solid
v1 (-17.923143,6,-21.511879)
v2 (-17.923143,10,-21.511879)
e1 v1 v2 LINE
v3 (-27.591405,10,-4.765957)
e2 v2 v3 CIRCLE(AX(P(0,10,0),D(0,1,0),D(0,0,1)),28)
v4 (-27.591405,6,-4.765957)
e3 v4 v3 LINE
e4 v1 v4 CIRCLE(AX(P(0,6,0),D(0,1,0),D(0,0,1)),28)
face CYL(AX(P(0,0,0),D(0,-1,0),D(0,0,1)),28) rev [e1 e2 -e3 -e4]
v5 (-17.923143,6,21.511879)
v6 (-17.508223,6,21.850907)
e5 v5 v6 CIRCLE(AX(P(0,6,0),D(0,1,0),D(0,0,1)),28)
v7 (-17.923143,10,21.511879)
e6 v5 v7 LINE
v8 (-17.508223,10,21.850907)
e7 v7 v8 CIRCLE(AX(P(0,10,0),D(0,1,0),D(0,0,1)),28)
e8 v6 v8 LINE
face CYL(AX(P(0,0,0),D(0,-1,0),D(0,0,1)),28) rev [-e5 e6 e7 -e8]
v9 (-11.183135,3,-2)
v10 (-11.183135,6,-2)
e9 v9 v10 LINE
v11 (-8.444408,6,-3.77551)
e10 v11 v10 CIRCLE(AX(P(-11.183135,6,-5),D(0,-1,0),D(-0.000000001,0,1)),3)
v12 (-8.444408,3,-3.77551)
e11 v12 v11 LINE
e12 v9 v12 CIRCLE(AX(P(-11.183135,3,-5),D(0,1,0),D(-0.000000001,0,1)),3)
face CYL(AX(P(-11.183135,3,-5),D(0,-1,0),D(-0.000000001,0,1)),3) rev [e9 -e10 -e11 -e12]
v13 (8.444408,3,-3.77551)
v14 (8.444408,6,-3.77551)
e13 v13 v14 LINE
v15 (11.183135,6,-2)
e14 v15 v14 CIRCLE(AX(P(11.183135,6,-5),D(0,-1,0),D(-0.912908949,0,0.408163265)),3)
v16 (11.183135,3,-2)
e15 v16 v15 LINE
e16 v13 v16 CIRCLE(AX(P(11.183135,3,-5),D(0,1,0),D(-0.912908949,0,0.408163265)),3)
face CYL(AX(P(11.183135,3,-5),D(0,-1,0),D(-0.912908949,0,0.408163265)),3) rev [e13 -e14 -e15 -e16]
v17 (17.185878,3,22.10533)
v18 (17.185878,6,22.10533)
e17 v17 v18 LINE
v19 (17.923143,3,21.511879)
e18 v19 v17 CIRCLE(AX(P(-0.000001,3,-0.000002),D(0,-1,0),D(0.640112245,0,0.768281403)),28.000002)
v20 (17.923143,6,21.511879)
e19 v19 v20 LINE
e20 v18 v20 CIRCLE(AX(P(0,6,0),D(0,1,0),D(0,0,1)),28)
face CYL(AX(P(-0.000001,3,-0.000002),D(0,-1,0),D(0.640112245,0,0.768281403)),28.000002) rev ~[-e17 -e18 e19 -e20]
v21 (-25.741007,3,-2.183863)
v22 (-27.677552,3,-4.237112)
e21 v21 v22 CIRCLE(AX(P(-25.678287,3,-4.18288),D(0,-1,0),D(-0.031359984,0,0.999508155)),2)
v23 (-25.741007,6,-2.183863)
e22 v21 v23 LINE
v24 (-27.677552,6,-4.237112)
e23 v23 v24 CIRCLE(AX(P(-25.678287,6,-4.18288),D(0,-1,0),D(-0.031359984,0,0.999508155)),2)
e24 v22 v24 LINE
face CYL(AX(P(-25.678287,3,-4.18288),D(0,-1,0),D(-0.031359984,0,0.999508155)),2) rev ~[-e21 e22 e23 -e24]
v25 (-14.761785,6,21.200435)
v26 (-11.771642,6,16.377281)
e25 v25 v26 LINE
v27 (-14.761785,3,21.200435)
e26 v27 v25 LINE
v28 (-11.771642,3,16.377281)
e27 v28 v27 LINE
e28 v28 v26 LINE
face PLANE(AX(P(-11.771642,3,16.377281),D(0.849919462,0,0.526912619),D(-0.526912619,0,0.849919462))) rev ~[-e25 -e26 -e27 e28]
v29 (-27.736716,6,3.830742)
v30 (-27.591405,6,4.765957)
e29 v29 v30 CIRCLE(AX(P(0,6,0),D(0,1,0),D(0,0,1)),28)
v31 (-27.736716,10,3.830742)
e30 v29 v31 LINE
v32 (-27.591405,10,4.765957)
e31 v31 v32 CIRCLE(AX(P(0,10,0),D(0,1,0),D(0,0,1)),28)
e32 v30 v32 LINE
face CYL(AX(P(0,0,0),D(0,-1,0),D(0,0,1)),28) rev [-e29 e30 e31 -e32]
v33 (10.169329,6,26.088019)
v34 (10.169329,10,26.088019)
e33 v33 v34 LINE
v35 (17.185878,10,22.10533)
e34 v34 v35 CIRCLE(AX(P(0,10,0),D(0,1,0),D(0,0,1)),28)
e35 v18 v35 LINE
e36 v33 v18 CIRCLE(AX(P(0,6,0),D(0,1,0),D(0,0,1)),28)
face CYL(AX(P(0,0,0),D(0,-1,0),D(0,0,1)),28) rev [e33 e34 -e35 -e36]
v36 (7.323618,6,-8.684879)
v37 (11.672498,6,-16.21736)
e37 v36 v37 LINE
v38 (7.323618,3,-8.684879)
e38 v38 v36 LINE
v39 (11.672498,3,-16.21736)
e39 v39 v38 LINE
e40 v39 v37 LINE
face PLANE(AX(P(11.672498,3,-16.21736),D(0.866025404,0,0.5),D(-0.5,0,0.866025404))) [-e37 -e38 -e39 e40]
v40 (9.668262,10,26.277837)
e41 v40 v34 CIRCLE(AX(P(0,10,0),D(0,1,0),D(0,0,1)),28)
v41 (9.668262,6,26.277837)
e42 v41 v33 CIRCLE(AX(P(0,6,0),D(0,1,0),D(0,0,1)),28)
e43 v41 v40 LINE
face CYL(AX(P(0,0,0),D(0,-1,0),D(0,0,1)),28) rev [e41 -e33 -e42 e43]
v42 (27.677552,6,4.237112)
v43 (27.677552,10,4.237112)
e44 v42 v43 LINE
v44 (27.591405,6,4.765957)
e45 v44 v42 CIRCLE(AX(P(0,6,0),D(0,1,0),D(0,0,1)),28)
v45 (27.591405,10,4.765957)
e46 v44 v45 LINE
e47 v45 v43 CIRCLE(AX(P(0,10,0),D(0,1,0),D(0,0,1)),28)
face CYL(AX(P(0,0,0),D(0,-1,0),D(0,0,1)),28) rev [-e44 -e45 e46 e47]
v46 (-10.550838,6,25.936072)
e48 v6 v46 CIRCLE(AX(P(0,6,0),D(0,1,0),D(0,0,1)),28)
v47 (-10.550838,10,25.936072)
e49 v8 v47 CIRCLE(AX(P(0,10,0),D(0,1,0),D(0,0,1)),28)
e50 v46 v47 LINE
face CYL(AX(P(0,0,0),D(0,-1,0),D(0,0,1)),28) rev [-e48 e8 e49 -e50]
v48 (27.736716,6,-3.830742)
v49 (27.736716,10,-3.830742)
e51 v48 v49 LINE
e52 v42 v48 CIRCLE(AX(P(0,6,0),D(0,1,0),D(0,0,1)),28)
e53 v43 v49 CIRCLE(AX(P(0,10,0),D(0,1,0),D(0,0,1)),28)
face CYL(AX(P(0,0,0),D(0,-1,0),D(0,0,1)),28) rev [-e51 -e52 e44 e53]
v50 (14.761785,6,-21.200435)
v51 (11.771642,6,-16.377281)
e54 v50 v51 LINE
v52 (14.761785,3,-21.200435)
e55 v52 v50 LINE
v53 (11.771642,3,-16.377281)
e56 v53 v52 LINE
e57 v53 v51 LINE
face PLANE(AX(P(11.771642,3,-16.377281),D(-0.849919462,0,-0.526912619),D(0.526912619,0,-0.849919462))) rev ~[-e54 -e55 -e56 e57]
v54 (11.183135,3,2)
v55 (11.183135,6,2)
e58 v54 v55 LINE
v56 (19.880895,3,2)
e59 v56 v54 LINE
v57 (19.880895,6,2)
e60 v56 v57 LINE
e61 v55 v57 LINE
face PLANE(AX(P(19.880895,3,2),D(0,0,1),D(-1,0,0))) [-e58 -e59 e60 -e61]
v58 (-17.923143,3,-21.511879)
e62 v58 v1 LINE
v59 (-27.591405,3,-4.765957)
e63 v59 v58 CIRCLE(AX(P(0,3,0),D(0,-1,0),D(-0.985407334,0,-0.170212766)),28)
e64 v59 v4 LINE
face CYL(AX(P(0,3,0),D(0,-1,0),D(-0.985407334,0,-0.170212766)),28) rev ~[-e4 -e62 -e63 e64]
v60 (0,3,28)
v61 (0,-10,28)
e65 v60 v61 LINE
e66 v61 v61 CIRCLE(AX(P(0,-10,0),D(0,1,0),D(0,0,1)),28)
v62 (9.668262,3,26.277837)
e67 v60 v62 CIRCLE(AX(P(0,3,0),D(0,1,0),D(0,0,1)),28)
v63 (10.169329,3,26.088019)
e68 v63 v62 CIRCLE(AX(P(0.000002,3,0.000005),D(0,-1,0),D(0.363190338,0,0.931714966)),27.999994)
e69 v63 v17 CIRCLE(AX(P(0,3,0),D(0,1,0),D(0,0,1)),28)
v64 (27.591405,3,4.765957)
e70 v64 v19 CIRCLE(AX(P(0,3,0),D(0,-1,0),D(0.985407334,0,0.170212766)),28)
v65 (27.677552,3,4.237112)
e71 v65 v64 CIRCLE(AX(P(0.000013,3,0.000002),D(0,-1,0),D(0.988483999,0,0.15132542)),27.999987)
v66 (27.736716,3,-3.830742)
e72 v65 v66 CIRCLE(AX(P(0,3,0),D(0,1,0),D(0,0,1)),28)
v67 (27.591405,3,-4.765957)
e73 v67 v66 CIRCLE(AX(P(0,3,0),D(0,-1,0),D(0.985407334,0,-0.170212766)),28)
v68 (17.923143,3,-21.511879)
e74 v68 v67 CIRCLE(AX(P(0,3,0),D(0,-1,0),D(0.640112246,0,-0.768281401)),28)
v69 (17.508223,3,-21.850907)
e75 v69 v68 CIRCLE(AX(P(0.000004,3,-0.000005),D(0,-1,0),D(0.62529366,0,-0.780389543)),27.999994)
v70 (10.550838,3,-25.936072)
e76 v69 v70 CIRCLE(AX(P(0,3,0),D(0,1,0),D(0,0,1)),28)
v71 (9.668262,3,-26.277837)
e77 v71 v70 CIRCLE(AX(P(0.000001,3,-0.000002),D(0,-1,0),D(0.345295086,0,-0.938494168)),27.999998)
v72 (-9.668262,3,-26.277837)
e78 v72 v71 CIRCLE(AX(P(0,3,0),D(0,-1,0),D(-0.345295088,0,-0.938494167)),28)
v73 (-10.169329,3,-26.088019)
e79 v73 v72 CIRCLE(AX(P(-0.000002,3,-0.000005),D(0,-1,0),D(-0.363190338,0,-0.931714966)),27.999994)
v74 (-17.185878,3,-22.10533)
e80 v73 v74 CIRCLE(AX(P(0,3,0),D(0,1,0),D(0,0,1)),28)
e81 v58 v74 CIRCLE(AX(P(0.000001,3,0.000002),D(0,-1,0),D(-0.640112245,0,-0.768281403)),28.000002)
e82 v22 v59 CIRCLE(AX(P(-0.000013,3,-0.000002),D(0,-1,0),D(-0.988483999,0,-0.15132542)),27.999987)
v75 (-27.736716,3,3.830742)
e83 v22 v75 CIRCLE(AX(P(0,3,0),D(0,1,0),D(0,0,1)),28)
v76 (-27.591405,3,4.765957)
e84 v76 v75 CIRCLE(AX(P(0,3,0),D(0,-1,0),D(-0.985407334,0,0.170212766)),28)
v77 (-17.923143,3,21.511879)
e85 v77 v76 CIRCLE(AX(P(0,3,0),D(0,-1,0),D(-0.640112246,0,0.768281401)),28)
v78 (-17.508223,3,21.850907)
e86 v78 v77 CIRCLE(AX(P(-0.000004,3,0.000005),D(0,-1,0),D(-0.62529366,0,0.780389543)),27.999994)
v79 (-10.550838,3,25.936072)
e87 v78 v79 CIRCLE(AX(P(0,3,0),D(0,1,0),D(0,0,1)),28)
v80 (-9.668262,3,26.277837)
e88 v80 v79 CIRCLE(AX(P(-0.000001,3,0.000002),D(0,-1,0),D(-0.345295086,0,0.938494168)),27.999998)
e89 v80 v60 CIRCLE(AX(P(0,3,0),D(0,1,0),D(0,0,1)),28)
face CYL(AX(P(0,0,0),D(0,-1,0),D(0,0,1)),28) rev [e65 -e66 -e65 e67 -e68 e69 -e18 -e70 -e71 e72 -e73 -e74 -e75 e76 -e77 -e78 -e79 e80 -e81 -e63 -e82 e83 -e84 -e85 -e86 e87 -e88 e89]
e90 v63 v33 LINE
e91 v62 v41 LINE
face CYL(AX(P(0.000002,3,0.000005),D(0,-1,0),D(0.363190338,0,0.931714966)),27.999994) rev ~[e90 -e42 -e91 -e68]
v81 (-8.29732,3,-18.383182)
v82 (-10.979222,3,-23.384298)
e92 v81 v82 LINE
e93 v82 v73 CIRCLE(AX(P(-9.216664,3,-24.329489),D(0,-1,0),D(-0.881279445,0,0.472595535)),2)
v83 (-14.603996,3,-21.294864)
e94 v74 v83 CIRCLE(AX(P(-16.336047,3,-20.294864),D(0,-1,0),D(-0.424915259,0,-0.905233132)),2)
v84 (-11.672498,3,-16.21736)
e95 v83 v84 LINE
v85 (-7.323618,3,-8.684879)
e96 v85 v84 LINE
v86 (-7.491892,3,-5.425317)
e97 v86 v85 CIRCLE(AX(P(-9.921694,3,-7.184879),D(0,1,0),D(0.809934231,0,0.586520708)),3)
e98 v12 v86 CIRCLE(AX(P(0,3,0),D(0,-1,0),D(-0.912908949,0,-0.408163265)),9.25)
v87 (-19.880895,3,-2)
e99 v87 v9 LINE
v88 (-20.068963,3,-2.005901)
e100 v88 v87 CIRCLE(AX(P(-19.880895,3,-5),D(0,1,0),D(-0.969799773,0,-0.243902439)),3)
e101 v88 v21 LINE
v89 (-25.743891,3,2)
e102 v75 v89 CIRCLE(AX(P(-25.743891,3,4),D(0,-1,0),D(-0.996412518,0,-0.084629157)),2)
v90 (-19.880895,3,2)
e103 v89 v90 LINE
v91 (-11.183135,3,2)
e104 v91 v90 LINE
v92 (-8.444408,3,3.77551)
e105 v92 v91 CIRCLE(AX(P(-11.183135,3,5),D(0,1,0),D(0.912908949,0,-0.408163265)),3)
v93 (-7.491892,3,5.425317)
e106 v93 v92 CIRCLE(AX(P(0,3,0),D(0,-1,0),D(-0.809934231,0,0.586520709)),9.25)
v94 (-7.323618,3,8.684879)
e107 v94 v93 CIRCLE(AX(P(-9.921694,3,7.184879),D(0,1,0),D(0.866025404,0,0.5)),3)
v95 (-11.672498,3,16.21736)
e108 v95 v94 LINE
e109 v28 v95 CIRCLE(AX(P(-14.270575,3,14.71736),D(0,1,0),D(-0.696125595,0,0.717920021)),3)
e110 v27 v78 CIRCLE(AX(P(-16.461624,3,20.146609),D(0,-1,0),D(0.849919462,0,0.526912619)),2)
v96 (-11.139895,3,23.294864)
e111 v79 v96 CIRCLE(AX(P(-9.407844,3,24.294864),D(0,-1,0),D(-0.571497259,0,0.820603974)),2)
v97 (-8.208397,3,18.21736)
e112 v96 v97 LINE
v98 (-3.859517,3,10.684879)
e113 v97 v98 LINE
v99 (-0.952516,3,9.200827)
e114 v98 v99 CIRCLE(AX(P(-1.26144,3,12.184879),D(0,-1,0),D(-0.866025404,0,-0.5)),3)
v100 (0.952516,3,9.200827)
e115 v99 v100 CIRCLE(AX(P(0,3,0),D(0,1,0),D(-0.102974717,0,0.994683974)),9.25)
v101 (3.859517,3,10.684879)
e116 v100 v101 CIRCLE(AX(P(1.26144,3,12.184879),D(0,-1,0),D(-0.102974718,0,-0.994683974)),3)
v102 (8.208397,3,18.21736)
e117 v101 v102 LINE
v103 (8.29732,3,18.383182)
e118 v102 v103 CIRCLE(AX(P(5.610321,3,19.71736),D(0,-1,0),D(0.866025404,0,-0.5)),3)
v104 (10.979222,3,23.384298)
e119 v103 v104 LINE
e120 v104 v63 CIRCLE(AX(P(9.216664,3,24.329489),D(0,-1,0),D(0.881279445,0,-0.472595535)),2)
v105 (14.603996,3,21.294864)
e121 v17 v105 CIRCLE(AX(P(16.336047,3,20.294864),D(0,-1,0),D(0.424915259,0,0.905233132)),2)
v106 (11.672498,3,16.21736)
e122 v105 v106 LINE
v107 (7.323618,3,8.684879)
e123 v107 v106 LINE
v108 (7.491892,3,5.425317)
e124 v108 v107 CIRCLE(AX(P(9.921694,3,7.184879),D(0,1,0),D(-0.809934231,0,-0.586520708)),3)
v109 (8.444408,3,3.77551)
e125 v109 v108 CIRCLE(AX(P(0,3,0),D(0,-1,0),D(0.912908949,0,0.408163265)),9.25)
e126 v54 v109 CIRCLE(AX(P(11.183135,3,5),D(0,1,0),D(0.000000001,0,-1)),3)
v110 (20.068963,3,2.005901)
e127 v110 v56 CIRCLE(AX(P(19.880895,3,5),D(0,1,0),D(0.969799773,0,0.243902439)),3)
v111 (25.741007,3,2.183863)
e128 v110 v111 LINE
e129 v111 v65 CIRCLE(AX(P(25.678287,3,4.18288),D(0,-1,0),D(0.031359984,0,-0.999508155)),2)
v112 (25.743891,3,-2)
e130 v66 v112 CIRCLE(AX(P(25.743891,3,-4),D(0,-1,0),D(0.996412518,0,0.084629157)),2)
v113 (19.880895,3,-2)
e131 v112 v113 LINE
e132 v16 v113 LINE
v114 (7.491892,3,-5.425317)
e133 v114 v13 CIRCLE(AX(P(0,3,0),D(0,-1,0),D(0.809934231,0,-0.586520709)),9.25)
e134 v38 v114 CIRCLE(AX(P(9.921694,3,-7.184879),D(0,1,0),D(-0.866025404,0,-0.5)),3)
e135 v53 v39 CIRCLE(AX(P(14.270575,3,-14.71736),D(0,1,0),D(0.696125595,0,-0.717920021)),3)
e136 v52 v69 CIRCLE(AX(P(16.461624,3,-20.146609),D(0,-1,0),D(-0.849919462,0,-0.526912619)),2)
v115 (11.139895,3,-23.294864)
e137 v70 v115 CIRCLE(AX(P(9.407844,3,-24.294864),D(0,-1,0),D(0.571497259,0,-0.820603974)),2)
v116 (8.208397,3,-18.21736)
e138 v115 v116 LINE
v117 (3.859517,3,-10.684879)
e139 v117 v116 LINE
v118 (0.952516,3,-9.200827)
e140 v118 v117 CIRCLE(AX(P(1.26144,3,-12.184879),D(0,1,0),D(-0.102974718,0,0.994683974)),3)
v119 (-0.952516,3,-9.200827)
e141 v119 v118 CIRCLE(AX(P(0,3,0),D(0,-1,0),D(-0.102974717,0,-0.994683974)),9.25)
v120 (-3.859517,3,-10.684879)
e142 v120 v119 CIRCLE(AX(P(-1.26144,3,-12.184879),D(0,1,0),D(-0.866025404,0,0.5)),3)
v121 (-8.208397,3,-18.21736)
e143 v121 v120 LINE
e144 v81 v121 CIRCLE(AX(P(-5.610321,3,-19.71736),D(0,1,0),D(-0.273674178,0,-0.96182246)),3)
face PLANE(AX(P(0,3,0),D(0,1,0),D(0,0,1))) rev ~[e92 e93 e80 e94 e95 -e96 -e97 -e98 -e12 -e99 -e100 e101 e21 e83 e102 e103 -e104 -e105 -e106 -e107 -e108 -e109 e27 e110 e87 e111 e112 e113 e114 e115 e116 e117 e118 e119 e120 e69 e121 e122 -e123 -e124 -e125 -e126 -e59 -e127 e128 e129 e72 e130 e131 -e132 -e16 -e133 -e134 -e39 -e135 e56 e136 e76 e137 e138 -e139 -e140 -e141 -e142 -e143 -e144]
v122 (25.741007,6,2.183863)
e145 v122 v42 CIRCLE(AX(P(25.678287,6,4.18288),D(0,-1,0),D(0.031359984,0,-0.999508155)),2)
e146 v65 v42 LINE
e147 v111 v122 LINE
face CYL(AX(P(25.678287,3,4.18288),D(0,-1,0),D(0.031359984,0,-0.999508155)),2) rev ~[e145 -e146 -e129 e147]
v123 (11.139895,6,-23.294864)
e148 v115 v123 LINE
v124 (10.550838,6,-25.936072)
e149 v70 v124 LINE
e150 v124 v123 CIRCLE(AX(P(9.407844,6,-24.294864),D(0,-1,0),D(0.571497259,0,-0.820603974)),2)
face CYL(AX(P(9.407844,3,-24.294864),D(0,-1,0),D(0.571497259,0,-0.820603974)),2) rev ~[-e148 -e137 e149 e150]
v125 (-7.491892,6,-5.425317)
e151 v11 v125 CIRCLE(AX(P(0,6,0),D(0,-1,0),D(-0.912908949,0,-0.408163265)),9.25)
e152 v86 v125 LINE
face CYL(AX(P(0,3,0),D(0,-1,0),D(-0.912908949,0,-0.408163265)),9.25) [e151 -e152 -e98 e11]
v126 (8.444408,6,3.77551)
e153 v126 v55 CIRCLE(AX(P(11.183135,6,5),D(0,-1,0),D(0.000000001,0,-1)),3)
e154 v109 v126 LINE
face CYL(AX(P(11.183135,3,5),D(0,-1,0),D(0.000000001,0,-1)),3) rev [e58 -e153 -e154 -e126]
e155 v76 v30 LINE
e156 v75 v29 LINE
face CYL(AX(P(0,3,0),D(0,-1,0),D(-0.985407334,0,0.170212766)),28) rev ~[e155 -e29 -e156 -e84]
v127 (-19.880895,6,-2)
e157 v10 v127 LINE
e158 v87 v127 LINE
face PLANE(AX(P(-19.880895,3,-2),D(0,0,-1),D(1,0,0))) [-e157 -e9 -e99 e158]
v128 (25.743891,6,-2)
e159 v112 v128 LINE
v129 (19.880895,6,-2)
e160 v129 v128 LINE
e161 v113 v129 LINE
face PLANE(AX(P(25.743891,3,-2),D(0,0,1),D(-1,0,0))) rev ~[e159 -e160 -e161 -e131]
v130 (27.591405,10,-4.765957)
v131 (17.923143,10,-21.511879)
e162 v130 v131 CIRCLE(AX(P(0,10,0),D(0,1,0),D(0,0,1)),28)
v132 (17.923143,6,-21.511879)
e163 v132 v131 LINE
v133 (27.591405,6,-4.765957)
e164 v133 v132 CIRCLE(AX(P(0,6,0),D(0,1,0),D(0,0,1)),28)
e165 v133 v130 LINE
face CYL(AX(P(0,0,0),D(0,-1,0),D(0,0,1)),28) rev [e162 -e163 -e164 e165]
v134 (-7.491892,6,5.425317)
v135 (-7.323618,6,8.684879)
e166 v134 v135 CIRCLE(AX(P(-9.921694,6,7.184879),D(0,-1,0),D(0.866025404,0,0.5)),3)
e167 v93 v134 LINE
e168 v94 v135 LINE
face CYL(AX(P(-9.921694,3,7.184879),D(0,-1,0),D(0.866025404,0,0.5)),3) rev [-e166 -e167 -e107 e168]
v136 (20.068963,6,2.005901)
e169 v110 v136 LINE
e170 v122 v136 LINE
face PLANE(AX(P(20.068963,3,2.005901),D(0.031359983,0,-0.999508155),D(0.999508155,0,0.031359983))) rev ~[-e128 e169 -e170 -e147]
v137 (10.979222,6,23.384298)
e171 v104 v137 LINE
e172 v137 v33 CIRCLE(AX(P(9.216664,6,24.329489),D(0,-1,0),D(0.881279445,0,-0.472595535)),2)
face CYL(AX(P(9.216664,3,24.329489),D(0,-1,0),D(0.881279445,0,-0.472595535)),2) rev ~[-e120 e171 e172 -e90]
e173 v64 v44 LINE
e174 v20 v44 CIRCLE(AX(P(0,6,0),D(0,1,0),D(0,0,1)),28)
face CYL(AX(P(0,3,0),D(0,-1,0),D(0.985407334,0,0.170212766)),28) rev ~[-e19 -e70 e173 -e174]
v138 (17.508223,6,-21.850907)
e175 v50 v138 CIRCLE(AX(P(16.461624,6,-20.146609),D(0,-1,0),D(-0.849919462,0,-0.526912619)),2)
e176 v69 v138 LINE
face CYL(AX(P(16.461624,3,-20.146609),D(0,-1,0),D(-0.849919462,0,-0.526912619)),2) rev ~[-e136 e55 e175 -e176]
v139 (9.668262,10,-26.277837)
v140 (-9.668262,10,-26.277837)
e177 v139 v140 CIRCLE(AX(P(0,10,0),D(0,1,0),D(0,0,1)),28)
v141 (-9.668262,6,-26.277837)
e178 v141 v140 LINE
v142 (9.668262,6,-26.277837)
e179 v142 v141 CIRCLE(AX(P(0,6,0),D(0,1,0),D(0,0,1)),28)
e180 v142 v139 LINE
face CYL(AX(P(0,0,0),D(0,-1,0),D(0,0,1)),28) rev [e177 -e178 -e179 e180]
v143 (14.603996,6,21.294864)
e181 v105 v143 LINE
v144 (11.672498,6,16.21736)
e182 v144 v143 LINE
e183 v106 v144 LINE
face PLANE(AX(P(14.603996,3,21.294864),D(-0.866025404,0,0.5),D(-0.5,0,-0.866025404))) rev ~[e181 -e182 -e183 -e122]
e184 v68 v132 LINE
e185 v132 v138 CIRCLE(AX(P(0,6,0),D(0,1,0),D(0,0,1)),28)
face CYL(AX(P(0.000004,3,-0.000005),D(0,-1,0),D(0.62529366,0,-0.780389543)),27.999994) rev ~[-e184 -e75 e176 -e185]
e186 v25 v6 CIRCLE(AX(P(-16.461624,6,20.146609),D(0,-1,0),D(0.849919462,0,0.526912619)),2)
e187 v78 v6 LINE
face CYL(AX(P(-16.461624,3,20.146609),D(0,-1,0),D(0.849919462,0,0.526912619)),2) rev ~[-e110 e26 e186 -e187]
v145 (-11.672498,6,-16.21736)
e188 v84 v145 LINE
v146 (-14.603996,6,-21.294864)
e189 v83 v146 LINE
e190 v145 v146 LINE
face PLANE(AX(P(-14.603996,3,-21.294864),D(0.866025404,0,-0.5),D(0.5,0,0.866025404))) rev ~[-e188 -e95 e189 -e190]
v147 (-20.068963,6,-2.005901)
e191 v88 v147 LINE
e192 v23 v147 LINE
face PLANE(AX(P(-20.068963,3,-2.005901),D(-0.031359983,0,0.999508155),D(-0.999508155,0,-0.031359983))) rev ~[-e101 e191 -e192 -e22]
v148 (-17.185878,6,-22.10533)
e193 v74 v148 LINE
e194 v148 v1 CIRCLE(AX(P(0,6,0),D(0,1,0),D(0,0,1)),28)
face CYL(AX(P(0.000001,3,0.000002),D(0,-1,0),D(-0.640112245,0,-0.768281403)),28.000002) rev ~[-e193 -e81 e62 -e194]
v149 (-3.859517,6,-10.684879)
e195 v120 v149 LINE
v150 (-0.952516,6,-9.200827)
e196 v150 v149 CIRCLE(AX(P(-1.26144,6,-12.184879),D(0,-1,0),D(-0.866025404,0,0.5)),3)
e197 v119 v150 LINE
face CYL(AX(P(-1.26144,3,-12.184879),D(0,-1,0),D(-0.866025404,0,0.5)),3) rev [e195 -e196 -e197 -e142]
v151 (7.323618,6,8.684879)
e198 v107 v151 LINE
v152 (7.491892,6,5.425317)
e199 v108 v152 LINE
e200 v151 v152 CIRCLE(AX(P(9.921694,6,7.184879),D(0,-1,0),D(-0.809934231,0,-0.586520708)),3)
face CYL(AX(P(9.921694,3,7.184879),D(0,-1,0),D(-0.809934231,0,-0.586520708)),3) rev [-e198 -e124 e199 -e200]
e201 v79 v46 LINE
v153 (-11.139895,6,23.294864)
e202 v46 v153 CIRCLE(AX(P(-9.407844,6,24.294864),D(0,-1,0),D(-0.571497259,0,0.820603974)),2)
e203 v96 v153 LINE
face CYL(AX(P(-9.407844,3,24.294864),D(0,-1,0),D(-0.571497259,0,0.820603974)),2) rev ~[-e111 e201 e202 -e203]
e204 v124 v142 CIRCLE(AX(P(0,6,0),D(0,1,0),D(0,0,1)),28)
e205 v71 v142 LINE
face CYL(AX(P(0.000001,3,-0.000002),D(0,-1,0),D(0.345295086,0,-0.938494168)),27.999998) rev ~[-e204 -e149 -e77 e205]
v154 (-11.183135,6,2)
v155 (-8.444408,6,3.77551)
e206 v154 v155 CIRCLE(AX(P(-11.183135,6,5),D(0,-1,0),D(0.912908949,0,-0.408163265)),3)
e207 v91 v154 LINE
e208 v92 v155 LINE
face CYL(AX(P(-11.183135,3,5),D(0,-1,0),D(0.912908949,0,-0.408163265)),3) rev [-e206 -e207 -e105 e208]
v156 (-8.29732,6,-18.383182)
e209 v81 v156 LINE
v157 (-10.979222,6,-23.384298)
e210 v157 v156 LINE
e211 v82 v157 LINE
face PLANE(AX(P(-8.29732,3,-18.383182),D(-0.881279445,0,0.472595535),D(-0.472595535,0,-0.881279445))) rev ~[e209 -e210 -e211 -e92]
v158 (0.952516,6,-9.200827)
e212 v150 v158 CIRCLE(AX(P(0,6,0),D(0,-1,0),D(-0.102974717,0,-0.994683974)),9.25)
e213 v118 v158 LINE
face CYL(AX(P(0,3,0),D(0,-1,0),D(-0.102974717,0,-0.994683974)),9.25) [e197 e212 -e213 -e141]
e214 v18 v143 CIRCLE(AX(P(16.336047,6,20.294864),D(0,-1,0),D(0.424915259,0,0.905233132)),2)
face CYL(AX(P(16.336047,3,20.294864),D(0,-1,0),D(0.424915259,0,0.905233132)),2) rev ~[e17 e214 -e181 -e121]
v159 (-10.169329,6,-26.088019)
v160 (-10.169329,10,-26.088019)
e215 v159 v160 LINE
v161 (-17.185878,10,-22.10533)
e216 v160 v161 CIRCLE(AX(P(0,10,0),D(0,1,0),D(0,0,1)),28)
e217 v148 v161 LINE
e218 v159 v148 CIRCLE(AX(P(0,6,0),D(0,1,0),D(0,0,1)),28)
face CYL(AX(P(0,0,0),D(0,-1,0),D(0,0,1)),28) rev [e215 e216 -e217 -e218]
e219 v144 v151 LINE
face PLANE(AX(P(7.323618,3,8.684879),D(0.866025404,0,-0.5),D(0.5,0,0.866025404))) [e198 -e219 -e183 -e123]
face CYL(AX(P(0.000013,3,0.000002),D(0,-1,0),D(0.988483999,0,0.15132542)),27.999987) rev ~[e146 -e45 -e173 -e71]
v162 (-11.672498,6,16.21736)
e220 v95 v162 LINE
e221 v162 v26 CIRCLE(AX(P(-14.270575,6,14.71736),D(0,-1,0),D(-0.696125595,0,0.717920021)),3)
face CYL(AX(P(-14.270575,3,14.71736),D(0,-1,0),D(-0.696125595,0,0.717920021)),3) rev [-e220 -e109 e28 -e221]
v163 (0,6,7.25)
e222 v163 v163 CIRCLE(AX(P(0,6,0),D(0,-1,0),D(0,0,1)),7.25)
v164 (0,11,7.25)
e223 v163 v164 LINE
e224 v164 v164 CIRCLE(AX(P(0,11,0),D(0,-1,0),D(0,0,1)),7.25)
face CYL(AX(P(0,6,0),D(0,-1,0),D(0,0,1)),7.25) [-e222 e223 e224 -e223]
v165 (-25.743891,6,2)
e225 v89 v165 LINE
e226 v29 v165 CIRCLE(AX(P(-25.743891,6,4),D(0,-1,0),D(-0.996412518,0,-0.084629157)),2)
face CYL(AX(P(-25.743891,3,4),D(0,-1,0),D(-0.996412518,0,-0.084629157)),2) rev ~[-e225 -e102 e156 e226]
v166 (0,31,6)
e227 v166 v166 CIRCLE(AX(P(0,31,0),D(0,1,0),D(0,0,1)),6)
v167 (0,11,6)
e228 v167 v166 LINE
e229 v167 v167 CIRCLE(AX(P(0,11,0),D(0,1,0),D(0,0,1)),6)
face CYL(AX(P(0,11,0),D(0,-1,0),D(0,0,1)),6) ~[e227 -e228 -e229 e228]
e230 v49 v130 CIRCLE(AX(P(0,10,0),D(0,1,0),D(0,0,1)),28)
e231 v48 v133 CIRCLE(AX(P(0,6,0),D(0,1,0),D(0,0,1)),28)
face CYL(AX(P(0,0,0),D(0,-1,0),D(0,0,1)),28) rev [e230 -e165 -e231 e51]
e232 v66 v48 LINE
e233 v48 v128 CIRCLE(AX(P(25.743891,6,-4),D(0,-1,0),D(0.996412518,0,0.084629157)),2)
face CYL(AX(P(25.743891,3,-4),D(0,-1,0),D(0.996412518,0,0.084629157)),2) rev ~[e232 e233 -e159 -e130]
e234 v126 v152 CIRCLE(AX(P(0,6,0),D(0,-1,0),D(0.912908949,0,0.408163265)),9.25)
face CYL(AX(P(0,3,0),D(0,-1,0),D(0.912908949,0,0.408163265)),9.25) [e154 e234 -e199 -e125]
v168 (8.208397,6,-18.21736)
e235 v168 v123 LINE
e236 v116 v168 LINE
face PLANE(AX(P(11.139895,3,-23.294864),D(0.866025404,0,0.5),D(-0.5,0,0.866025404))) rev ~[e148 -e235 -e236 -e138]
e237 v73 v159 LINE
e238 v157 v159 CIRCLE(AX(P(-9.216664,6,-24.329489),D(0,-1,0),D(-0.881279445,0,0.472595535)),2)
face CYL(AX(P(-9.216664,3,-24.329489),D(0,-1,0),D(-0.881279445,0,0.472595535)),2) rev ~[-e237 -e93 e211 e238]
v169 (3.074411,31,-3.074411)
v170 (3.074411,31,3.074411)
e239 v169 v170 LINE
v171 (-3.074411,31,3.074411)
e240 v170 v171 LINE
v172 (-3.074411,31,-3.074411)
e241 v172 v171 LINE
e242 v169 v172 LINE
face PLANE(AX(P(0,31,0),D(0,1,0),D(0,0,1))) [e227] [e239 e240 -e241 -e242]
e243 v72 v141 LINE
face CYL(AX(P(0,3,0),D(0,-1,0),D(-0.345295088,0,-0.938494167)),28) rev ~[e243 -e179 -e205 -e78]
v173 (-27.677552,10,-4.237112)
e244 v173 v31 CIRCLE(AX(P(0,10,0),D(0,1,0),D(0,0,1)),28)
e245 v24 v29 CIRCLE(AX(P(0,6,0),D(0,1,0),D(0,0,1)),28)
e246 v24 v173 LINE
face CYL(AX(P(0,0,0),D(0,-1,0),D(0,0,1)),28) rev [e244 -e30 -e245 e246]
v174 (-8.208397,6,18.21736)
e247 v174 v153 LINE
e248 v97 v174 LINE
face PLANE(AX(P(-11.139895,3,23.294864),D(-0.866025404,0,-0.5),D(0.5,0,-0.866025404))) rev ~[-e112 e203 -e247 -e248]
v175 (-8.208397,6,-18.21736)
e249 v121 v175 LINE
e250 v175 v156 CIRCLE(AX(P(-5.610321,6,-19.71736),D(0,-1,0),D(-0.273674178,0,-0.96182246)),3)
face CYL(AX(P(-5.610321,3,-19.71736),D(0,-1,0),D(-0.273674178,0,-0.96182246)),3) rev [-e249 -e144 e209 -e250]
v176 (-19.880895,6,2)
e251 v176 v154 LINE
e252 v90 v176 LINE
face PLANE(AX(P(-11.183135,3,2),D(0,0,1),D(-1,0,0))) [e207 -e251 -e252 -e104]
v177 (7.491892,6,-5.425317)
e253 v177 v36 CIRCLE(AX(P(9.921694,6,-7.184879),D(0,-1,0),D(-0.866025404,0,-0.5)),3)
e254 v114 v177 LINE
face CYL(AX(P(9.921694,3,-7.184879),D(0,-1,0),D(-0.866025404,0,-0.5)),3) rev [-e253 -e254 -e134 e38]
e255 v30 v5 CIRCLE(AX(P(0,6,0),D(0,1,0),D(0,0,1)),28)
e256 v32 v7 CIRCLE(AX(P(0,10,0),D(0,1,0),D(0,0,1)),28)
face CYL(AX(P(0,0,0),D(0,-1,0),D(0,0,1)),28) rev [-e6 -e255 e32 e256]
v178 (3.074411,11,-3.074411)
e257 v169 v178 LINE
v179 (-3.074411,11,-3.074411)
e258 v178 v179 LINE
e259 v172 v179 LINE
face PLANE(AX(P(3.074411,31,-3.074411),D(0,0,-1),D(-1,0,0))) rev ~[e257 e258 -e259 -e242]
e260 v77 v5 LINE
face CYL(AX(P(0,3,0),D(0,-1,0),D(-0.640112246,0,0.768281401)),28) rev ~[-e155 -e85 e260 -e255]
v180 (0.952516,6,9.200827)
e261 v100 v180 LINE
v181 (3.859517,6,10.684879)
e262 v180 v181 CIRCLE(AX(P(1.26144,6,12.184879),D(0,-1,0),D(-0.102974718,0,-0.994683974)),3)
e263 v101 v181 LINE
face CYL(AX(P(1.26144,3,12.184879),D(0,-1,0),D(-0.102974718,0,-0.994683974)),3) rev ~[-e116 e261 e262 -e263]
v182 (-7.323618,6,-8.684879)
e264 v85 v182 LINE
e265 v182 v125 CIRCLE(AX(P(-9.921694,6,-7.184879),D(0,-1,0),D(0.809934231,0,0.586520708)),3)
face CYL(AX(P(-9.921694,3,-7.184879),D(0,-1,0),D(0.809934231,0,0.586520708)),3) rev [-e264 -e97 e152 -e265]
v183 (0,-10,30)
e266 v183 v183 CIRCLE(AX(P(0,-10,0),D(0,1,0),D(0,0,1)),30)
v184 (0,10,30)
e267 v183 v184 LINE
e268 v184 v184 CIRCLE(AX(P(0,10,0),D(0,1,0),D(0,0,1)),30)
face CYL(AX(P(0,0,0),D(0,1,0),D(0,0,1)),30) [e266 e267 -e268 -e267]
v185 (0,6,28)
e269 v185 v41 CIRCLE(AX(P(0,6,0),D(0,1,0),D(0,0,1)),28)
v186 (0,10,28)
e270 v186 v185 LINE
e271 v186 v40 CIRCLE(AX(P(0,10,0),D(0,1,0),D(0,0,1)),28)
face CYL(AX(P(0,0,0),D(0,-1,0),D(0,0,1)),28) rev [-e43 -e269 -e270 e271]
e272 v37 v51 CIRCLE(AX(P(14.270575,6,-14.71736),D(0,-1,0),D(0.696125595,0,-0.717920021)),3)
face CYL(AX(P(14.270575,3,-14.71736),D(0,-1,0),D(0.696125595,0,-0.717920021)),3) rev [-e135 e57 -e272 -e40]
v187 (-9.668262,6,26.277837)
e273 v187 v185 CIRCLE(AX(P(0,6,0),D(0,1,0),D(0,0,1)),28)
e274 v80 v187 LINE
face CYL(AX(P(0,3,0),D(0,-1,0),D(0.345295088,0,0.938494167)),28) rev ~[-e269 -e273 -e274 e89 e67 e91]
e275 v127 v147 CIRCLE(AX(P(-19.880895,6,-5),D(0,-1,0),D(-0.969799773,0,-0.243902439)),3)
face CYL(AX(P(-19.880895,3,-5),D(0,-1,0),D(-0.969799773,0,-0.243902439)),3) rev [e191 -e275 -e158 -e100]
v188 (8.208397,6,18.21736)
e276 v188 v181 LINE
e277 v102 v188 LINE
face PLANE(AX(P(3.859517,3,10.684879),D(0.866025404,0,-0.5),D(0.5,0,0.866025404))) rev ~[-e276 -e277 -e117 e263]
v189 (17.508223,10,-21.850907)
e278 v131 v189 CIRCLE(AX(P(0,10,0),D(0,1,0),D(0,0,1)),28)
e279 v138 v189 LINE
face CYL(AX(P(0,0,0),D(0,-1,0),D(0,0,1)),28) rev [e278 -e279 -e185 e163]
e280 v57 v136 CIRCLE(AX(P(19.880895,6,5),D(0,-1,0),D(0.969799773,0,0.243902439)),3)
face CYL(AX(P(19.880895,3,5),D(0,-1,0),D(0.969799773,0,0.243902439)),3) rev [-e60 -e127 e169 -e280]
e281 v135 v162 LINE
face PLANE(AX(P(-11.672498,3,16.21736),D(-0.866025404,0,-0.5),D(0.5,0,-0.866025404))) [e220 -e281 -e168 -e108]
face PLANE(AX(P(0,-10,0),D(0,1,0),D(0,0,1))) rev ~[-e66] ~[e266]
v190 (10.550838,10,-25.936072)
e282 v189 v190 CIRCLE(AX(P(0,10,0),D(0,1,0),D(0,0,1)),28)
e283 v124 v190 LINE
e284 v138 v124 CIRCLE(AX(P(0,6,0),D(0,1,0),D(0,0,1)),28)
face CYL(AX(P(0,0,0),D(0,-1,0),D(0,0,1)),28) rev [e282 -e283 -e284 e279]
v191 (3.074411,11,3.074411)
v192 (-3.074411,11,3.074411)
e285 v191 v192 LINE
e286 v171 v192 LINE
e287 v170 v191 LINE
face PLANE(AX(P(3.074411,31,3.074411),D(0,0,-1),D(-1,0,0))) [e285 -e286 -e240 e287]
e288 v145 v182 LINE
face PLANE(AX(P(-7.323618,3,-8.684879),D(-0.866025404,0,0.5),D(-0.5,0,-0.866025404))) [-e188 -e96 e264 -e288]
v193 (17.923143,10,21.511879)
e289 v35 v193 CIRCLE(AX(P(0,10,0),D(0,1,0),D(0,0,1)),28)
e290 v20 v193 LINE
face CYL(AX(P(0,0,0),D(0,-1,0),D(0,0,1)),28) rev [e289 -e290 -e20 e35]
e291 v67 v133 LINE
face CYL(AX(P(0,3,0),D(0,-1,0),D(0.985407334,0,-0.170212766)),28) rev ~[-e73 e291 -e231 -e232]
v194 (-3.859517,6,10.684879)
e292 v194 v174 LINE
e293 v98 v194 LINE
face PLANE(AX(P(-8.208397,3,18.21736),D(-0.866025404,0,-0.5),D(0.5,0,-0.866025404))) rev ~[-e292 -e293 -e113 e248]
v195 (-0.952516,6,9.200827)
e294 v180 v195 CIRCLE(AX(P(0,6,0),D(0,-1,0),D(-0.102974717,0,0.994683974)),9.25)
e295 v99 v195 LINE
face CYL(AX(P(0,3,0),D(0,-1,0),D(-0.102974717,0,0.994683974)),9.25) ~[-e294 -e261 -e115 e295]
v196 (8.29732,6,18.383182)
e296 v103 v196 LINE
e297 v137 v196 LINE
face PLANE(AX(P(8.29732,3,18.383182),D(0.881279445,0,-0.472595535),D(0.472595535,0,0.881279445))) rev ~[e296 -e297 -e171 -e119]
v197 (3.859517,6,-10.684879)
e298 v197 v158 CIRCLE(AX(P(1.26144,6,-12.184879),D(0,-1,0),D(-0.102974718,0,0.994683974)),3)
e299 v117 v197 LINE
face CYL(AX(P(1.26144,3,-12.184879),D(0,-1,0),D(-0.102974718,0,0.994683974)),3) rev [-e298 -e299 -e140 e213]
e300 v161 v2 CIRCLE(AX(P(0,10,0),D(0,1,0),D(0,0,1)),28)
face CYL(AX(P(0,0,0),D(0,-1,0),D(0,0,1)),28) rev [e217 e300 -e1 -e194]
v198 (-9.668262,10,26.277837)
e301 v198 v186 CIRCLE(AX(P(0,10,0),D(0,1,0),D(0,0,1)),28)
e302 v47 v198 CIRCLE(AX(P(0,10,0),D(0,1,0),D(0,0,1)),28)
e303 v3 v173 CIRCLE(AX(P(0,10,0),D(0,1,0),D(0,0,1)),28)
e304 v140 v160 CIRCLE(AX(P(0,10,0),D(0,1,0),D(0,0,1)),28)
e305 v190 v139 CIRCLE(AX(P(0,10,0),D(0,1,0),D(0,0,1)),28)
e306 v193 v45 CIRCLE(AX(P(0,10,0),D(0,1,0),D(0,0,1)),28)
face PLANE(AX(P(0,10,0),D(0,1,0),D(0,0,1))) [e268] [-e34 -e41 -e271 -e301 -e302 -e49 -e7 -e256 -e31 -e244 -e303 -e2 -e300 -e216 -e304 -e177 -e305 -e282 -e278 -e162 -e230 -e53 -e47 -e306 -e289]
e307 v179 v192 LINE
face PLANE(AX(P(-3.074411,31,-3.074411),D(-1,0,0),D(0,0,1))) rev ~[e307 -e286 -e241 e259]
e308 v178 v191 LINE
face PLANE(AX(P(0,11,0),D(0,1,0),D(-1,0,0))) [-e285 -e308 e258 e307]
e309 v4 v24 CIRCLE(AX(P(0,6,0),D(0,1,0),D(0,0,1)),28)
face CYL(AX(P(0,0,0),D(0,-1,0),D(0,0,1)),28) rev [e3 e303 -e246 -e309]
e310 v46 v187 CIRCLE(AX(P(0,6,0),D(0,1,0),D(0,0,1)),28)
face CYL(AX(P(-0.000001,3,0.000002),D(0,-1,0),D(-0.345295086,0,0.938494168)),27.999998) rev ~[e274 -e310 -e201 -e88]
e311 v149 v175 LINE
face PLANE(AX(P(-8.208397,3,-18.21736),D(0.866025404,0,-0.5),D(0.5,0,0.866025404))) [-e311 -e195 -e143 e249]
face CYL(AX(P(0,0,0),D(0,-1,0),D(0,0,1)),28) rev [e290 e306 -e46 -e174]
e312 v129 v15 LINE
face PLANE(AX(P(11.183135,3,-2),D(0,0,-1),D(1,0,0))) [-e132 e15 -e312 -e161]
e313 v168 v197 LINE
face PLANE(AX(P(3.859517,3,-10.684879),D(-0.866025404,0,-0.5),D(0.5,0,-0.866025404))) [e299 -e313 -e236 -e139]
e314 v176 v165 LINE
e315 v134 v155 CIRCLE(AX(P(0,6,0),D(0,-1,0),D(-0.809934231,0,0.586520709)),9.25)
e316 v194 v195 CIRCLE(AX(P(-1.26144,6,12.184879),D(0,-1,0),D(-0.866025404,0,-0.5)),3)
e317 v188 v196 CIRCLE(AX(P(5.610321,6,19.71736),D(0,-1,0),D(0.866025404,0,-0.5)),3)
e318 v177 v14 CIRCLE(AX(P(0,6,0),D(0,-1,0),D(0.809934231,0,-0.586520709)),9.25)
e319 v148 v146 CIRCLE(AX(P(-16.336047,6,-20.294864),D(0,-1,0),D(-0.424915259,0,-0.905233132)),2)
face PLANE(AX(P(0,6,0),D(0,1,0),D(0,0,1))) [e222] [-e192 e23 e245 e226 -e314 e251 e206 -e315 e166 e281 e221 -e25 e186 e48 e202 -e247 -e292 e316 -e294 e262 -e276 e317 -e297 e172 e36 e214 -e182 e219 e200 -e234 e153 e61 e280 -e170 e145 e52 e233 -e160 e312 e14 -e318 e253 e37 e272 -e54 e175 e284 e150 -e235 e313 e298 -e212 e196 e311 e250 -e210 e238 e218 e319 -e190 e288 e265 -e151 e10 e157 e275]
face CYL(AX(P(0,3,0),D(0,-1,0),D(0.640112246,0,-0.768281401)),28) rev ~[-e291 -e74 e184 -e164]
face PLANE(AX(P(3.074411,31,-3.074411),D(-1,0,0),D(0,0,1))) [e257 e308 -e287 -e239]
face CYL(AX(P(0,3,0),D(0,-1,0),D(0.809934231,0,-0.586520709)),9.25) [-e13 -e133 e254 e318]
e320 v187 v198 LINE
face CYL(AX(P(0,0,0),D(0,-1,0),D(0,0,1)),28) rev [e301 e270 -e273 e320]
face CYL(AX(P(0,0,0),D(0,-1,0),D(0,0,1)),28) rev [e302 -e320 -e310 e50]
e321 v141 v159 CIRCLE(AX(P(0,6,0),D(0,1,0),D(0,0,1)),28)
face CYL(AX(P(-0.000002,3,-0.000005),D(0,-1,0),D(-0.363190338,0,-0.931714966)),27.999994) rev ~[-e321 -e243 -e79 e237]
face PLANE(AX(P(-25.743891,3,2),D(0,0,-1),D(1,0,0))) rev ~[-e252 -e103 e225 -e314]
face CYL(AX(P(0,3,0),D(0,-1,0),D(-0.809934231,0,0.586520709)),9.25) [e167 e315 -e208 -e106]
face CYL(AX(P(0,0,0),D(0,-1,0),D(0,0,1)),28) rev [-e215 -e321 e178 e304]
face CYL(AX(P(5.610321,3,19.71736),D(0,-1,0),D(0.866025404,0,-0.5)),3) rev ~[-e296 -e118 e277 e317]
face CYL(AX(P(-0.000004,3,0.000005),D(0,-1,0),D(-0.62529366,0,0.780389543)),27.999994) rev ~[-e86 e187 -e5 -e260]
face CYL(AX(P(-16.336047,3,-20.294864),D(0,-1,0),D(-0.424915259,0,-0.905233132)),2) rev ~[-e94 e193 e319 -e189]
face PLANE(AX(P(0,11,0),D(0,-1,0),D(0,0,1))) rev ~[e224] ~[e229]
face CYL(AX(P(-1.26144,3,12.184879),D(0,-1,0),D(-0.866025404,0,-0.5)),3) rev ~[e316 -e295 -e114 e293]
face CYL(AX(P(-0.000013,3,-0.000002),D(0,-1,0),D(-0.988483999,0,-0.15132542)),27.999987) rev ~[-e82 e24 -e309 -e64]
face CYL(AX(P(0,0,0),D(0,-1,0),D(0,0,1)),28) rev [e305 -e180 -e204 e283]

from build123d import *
from build123d.topology import SkipClean

# Parameters (mm, degrees)
SKETCH1_R           = 30
SKETCH1_R_2         = 28
BOSS_EXTRUDE1_DEPTH = 10
BOSS_EXTRUDE2_START = 3
SKETCH2_R           = 28
BOSS_EXTRUDE2_DEPTH = 3
BOSS_EXTRUDE3_START = -3
SKETCH3_R           = 7.25
BOSS_EXTRUDE3_DEPTH = 5
SKETCH4_R           = 6
BOSS_EXTRUDE4_DEPTH = 20
CUT_EXTRUDE2_DEPTH  = 9
CUT_EXTRUDE3_DEPTH  = 10
SKETCH8_W           = 6.148821926
SKETCH8_H           = 6.148821926
CUT_EXTRUDE4_DEPTH  = 20


with BuildPart() as part:
    # Sketch1 → Boss-Extrude1 (new, symmetric)
    with BuildSketch(Plane(origin=(0, 0, 0), x_dir=(1, 0, 0), z_dir=(0, 1, 0))):
        with Locations(Location((0, 0, 0), (0, 0, 270))):
            Circle(SKETCH1_R)
        with Locations(Location((0, 0, 0), (0, 0, 270))):
            Circle(SKETCH1_R_2, mode=Mode.SUBTRACT)
    extrude(amount=BOSS_EXTRUDE1_DEPTH, both=True)

    # Sketch2 → Boss-Extrude2 (add)
    with BuildSketch(Plane(origin=(0, 0, 0), x_dir=(1, 0, 0), z_dir=(0, 1, 0)).offset(BOSS_EXTRUDE2_START)):
        with Locations(Location((0, 0, 0), (0, 0, 270))):
            Circle(SKETCH2_R)
    extrude(amount=BOSS_EXTRUDE2_DEPTH)

    # Sketch3 → Boss-Extrude3 (add)
    with BuildSketch(Plane.XZ.offset(-3).offset(BOSS_EXTRUDE3_START)):
        with Locations(Location((0, 0, 0), (0, 0, 90))):
            Circle(SKETCH3_R)
    extrude(amount=-BOSS_EXTRUDE3_DEPTH)

    # Sketch4 → Boss-Extrude4 (add)
    with BuildSketch(Plane(origin=(0, 11, 0), x_dir=(-1, 0, 0), z_dir=(0, 1, 0))):
        with Locations(Location((0, 0, 0), (0, 0, 90))):
            Circle(SKETCH4_R)
    extrude(amount=BOSS_EXTRUDE4_DEPTH)

    # Sketch6 → Cut-Extrude2 (cut)
    with BuildSketch(Plane.XZ.offset(-3)):
        with BuildLine():
            ThreePointArc((-7.491891637, 5.425316552), (-8.010734985, 4.625), (-8.444407777, 3.775510204))
            ThreePointArc((-8.444407777, 3.775510204), (-9.551183243, 2.48271283), (-11.183134623, 2))
            Line((-11.183134623, 2), (-19.880895352, 2))
            ThreePointArc((-19.880895352, 2), (-22.246811871, 3.155429854), (-22.790294672, 5.731707317))
            ThreePointArc((-22.790294672, 5.731707317), (-20.351596989, 11.75), (-16.35895148, 16.871120487))
            ThreePointArc((-16.35895148, 16.871120487), (-13.856088349, 17.688589307), (-11.672498484, 16.217360425))
            Line((-11.672498484, 16.217360425), (-7.323618119, 8.684878678))
            ThreePointArc((-7.323618119, 8.684878678), (-6.925684003, 7.03021091), (-7.491891637, 5.425316552))
        make_face()
        with BuildLine():
            ThreePointArc((6.431343192, 22.602827804), (0, 23.5), (-6.431343192, 22.602827804))
            ThreePointArc((-6.431343192, 22.602827804), (-8.390723522, 20.844019161), (-8.208396868, 18.217360425))
            Line((-8.208396868, 18.217360425), (-3.859516504, 10.684878678))
            ThreePointArc((-3.859516504, 10.684878678), (-2.62549924, 9.51292374), (-0.952516139, 9.200826757))
            ThreePointArc((-0.952516139, 9.200826757), (0, 9.25), (0.952516139, 9.200826757))
            ThreePointArc((0.952516139, 9.200826757), (2.62549924, 9.51292374), (3.859516504, 10.684878678))
            Line((3.859516504, 10.684878678), (8.208396868, 18.217360425))
            ThreePointArc((8.208396868, 18.217360425), (8.390723522, 20.844019161), (6.431343192, 22.602827804))
        make_face()
        with BuildLine():
            ThreePointArc((8.444407777, 3.775510204), (8.010734985, 4.625), (7.491891637, 5.425316552))
            ThreePointArc((7.491891637, 5.425316552), (6.925684003, 7.03021091), (7.323618119, 8.684878678))
            Line((7.323618119, 8.684878678), (11.672498484, 16.217360425))
            ThreePointArc((11.672498484, 16.217360425), (13.856088349, 17.688589307), (16.35895148, 16.871120487))
            ThreePointArc((16.35895148, 16.871120487), (20.351596989, 11.75), (22.790294672, 5.731707317))
            ThreePointArc((22.790294672, 5.731707317), (22.246811871, 3.155429854), (19.880895352, 2))
            Line((19.880895352, 2), (11.183134623, 2))
            ThreePointArc((11.183134623, 2), (9.551183243, 2.48271283), (8.444407777, 3.775510204))
        make_face()
        with BuildLine():
            ThreePointArc((7.491891637, -5.425316552), (8.010734985, -4.625), (8.444407777, -3.775510204))
            ThreePointArc((8.444407777, -3.775510204), (9.551183243, -2.48271283), (11.183134623, -2))
            Line((11.183134623, -2), (19.880895352, -2))
            ThreePointArc((19.880895352, -2), (22.246811871, -3.155429854), (22.790294672, -5.731707317))
            ThreePointArc((22.790294672, -5.731707317), (20.351596989, -11.75), (16.35895148, -16.871120487))
            ThreePointArc((16.35895148, -16.871120487), (13.856088349, -17.688589307), (11.672498484, -16.217360425))
            Line((11.672498484, -16.217360425), (7.323618119, -8.684878678))
            ThreePointArc((7.323618119, -8.684878678), (6.925684003, -7.03021091), (7.491891637, -5.425316552))
        make_face()
        with BuildLine():
            ThreePointArc((-0.952516139, -9.200826757), (0, -9.25), (0.952516139, -9.200826757))
            ThreePointArc((0.952516139, -9.200826757), (2.62549924, -9.51292374), (3.859516504, -10.684878678))
            Line((3.859516504, -10.684878678), (8.208396868, -18.217360425))
            ThreePointArc((8.208396868, -18.217360425), (8.390723522, -20.844019161), (6.431343192, -22.602827804))
            ThreePointArc((6.431343192, -22.602827804), (0, -23.5), (-6.431343192, -22.602827804))
            ThreePointArc((-6.431343192, -22.602827804), (-8.390723522, -20.844019161), (-8.208396868, -18.217360425))
            Line((-8.208396868, -18.217360425), (-3.859516504, -10.684878678))
            ThreePointArc((-3.859516504, -10.684878678), (-2.62549924, -9.51292374), (-0.952516139, -9.200826757))
        make_face()
        with BuildLine():
            ThreePointArc((-8.444407777, -3.775510204), (-8.010734985, -4.625), (-7.491891637, -5.425316552))
            ThreePointArc((-7.491891637, -5.425316552), (-6.925684003, -7.03021091), (-7.323618119, -8.684878678))
            Line((-7.323618119, -8.684878678), (-11.672498484, -16.217360425))
            ThreePointArc((-11.672498484, -16.217360425), (-13.856088349, -17.688589307), (-16.35895148, -16.871120487))
            ThreePointArc((-16.35895148, -16.871120487), (-20.351596989, -11.75), (-22.790294672, -5.731707317))
            ThreePointArc((-22.790294672, -5.731707317), (-22.246811871, -3.155429854), (-19.880895352, -2))
            Line((-19.880895352, -2), (-11.183134623, -2))
            ThreePointArc((-11.183134623, -2), (-9.551183243, -2.48271283), (-8.444407777, -3.775510204))
        make_face()
    extrude(amount=-CUT_EXTRUDE2_DEPTH, mode=Mode.SUBTRACT)

    # Sketch7 → Cut-Extrude3 (cut)
    with SkipClean():  # the faces are left unmerged after this step: merging them gives an invalid solid
        with BuildSketch(Plane.XZ.offset(-3)):
            with BuildLine():
                ThreePointArc((-14.761784894, 21.200434556), (-16.000690703, 22.09276981), (-17.508222547, 21.850907149))
                ThreePointArc((-17.508222547, 21.850907149), (-17.71649371, 21.682385723), (-17.923142901, 21.511879243))
                ThreePointArc((-17.923142901, 21.511879243), (-24.248711306, 14), (-27.591405358, 4.765957447))
                ThreePointArc((-27.591405358, 4.765957447), (-27.668012437, 4.298963572), (-27.736716066, 3.830741686))
                ThreePointArc((-27.736716066, 3.830741686), (-27.096940064, 2.52715978), (-25.74389103, 2))
                Line((-25.74389103, 2), (-19.880895352, 2))
                ThreePointArc((-19.880895352, 2), (-22.246811871, 3.155429854), (-22.790294672, 5.731707317))
                ThreePointArc((-22.790294672, 5.731707317), (-20.351596989, 11.75), (-16.35895148, 16.871120487))
                ThreePointArc((-16.35895148, 16.871120487), (-13.949469899, 17.700126207), (-11.771642309, 16.377281185))
                Line((-11.771642309, 16.377281185), (-14.761784894, 21.200434556))
            make_face()
            with BuildLine():
                ThreePointArc((6.431343192, 22.602827804), (8.354023996, 20.930658406), (8.297320396, 18.383181876))
                Line((8.297320396, 18.383181876), (10.97922245, 23.384298002))
                ThreePointArc((10.97922245, 23.384298002), (11.132554544, 24.903389532), (10.169329414, 26.088019075))
                ThreePointArc((10.169329414, 26.088019075), (9.919249996, 26.18412648), (9.668262457, 26.277836689))
                ThreePointArc((9.668262457, 26.277836689), (0, 28), (-9.668262457, 26.277836689))
                ThreePointArc((-9.668262457, 26.277836689), (-10.110994555, 26.110683429), (-10.550838418, 25.936071574))
                ThreePointArc((-10.550838418, 25.936071574), (-11.359885463, 24.73021835), (-11.139894708, 23.294863625))
                Line((-11.139894708, 23.294863625), (-8.208396868, 18.217360425))
                ThreePointArc((-8.208396868, 18.217360425), (-8.390723522, 20.844019161), (-6.431343192, 22.602827804))
                ThreePointArc((-6.431343192, 22.602827804), (0, 23.5), (6.431343192, 22.602827804))
            make_face()
            with BuildLine():
                ThreePointArc((17.923142901, 21.511879243), (17.557017882, 21.811719856), (17.185877648, 22.105329888))
                ThreePointArc((17.185877648, 22.105329888), (15.737054601, 22.20305857), (14.603996323, 21.294863625))
                Line((14.603996323, 21.294863625), (11.672498484, 16.217360425))
                ThreePointArc((11.672498484, 16.217360425), (13.856088349, 17.688589307), (16.35895148, 16.871120487))
                ThreePointArc((16.35895148, 16.871120487), (20.351596989, 11.75), (22.790294672, 5.731707317))
                ThreePointArc((22.790294672, 5.731707317), (22.303493895, 3.230532199), (20.068962705, 2.005900691))
                Line((20.068962705, 2.005900691), (25.741007344, 2.183863445))
                ThreePointArc((25.741007344, 2.183863445), (27.133245247, 2.810619722), (27.67755196, 4.237111926))
                ThreePointArc((27.67755196, 4.237111926), (27.635743706, 4.501740757), (27.591405358, 4.765957447))
                ThreePointArc((27.591405358, 4.765957447), (24.248711306, 14), (17.923142901, 21.511879243))
            make_face()
            with BuildLine():
                ThreePointArc((27.591405358, -4.765957447), (27.668012437, -4.298963572), (27.736716066, -3.830741686))
                ThreePointArc((27.736716066, -3.830741686), (27.096940064, -2.52715978), (25.74389103, -2))
                Line((25.74389103, -2), (19.880895352, -2))
                ThreePointArc((19.880895352, -2), (22.246811871, -3.155429854), (22.790294672, -5.731707317))
                ThreePointArc((22.790294672, -5.731707317), (20.351596989, -11.75), (16.35895148, -16.871120487))
                ThreePointArc((16.35895148, -16.871120487), (13.949469899, -17.700126207), (11.771642309, -16.377281185))
                Line((11.771642309, -16.377281185), (14.761784894, -21.200434556))
                ThreePointArc((14.761784894, -21.200434556), (16.000690703, -22.09276981), (17.508222547, -21.850907149))
                ThreePointArc((17.508222547, -21.850907149), (17.71649371, -21.682385723), (17.923142901, -21.511879243))
                ThreePointArc((17.923142901, -21.511879243), (24.248711306, -14), (27.591405358, -4.765957447))
            make_face()
            with BuildLine():
                ThreePointArc((9.668262457, -26.277836689), (10.110994555, -26.110683429), (10.550838418, -25.936071574))
                ThreePointArc((10.550838418, -25.936071574), (11.359885463, -24.73021835), (11.139894708, -23.294863625))
                Line((11.139894708, -23.294863625), (8.208396868, -18.217360425))
                ThreePointArc((8.208396868, -18.217360425), (8.390723522, -20.844019161), (6.431343192, -22.602827804))
                ThreePointArc((6.431343192, -22.602827804), (0, -23.5), (-6.431343192, -22.602827804))
                ThreePointArc((-6.431343192, -22.602827804), (-8.354023996, -20.930658406), (-8.297320396, -18.383181876))
                Line((-8.297320396, -18.383181876), (-10.97922245, -23.384298002))
                ThreePointArc((-10.97922245, -23.384298002), (-11.132554544, -24.903389532), (-10.169329414, -26.088019075))
                ThreePointArc((-10.169329414, -26.088019075), (-9.919249996, -26.18412648), (-9.668262457, -26.277836689))
                ThreePointArc((-9.668262457, -26.277836689), (0, -28), (9.668262457, -26.277836689))
            make_face()
            with BuildLine():
                ThreePointArc((-25.741007344, -2.183863445), (-27.133245247, -2.810619722), (-27.67755196, -4.237111926))
                ThreePointArc((-27.67755196, -4.237111926), (-27.635743706, -4.501740757), (-27.591405358, -4.765957447))
                ThreePointArc((-27.591405358, -4.765957447), (-24.248711306, -14), (-17.923142901, -21.511879243))
                ThreePointArc((-17.923142901, -21.511879243), (-17.557017882, -21.811719856), (-17.185877648, -22.105329888))
                ThreePointArc((-17.185877648, -22.105329888), (-15.737054601, -22.20305857), (-14.603996323, -21.294863625))
                Line((-14.603996323, -21.294863625), (-11.672498484, -16.217360425))
                ThreePointArc((-11.672498484, -16.217360425), (-13.856088349, -17.688589307), (-16.35895148, -16.871120487))
                ThreePointArc((-16.35895148, -16.871120487), (-20.351596989, -11.75), (-22.790294672, -5.731707317))
                ThreePointArc((-22.790294672, -5.731707317), (-22.303493895, -3.230532199), (-20.068962705, -2.005900691))
                Line((-20.068962705, -2.005900691), (-25.741007344, -2.183863445))
            make_face()
        extrude(amount=-CUT_EXTRUDE3_DEPTH, mode=Mode.SUBTRACT)

    # Sketch8 → Cut-Extrude4 (cut)
    with SkipClean():  # the faces are left unmerged after this step: merging them gives an invalid solid
        with BuildSketch(Plane(origin=(0, 31, 0), x_dir=(-1, 0, 0), z_dir=(0, 1, 0))):
            Rectangle(SKETCH8_W, SKETCH8_H)
        extrude(amount=-CUT_EXTRUDE4_DEPTH, mode=Mode.SUBTRACT)


solid = part.part
